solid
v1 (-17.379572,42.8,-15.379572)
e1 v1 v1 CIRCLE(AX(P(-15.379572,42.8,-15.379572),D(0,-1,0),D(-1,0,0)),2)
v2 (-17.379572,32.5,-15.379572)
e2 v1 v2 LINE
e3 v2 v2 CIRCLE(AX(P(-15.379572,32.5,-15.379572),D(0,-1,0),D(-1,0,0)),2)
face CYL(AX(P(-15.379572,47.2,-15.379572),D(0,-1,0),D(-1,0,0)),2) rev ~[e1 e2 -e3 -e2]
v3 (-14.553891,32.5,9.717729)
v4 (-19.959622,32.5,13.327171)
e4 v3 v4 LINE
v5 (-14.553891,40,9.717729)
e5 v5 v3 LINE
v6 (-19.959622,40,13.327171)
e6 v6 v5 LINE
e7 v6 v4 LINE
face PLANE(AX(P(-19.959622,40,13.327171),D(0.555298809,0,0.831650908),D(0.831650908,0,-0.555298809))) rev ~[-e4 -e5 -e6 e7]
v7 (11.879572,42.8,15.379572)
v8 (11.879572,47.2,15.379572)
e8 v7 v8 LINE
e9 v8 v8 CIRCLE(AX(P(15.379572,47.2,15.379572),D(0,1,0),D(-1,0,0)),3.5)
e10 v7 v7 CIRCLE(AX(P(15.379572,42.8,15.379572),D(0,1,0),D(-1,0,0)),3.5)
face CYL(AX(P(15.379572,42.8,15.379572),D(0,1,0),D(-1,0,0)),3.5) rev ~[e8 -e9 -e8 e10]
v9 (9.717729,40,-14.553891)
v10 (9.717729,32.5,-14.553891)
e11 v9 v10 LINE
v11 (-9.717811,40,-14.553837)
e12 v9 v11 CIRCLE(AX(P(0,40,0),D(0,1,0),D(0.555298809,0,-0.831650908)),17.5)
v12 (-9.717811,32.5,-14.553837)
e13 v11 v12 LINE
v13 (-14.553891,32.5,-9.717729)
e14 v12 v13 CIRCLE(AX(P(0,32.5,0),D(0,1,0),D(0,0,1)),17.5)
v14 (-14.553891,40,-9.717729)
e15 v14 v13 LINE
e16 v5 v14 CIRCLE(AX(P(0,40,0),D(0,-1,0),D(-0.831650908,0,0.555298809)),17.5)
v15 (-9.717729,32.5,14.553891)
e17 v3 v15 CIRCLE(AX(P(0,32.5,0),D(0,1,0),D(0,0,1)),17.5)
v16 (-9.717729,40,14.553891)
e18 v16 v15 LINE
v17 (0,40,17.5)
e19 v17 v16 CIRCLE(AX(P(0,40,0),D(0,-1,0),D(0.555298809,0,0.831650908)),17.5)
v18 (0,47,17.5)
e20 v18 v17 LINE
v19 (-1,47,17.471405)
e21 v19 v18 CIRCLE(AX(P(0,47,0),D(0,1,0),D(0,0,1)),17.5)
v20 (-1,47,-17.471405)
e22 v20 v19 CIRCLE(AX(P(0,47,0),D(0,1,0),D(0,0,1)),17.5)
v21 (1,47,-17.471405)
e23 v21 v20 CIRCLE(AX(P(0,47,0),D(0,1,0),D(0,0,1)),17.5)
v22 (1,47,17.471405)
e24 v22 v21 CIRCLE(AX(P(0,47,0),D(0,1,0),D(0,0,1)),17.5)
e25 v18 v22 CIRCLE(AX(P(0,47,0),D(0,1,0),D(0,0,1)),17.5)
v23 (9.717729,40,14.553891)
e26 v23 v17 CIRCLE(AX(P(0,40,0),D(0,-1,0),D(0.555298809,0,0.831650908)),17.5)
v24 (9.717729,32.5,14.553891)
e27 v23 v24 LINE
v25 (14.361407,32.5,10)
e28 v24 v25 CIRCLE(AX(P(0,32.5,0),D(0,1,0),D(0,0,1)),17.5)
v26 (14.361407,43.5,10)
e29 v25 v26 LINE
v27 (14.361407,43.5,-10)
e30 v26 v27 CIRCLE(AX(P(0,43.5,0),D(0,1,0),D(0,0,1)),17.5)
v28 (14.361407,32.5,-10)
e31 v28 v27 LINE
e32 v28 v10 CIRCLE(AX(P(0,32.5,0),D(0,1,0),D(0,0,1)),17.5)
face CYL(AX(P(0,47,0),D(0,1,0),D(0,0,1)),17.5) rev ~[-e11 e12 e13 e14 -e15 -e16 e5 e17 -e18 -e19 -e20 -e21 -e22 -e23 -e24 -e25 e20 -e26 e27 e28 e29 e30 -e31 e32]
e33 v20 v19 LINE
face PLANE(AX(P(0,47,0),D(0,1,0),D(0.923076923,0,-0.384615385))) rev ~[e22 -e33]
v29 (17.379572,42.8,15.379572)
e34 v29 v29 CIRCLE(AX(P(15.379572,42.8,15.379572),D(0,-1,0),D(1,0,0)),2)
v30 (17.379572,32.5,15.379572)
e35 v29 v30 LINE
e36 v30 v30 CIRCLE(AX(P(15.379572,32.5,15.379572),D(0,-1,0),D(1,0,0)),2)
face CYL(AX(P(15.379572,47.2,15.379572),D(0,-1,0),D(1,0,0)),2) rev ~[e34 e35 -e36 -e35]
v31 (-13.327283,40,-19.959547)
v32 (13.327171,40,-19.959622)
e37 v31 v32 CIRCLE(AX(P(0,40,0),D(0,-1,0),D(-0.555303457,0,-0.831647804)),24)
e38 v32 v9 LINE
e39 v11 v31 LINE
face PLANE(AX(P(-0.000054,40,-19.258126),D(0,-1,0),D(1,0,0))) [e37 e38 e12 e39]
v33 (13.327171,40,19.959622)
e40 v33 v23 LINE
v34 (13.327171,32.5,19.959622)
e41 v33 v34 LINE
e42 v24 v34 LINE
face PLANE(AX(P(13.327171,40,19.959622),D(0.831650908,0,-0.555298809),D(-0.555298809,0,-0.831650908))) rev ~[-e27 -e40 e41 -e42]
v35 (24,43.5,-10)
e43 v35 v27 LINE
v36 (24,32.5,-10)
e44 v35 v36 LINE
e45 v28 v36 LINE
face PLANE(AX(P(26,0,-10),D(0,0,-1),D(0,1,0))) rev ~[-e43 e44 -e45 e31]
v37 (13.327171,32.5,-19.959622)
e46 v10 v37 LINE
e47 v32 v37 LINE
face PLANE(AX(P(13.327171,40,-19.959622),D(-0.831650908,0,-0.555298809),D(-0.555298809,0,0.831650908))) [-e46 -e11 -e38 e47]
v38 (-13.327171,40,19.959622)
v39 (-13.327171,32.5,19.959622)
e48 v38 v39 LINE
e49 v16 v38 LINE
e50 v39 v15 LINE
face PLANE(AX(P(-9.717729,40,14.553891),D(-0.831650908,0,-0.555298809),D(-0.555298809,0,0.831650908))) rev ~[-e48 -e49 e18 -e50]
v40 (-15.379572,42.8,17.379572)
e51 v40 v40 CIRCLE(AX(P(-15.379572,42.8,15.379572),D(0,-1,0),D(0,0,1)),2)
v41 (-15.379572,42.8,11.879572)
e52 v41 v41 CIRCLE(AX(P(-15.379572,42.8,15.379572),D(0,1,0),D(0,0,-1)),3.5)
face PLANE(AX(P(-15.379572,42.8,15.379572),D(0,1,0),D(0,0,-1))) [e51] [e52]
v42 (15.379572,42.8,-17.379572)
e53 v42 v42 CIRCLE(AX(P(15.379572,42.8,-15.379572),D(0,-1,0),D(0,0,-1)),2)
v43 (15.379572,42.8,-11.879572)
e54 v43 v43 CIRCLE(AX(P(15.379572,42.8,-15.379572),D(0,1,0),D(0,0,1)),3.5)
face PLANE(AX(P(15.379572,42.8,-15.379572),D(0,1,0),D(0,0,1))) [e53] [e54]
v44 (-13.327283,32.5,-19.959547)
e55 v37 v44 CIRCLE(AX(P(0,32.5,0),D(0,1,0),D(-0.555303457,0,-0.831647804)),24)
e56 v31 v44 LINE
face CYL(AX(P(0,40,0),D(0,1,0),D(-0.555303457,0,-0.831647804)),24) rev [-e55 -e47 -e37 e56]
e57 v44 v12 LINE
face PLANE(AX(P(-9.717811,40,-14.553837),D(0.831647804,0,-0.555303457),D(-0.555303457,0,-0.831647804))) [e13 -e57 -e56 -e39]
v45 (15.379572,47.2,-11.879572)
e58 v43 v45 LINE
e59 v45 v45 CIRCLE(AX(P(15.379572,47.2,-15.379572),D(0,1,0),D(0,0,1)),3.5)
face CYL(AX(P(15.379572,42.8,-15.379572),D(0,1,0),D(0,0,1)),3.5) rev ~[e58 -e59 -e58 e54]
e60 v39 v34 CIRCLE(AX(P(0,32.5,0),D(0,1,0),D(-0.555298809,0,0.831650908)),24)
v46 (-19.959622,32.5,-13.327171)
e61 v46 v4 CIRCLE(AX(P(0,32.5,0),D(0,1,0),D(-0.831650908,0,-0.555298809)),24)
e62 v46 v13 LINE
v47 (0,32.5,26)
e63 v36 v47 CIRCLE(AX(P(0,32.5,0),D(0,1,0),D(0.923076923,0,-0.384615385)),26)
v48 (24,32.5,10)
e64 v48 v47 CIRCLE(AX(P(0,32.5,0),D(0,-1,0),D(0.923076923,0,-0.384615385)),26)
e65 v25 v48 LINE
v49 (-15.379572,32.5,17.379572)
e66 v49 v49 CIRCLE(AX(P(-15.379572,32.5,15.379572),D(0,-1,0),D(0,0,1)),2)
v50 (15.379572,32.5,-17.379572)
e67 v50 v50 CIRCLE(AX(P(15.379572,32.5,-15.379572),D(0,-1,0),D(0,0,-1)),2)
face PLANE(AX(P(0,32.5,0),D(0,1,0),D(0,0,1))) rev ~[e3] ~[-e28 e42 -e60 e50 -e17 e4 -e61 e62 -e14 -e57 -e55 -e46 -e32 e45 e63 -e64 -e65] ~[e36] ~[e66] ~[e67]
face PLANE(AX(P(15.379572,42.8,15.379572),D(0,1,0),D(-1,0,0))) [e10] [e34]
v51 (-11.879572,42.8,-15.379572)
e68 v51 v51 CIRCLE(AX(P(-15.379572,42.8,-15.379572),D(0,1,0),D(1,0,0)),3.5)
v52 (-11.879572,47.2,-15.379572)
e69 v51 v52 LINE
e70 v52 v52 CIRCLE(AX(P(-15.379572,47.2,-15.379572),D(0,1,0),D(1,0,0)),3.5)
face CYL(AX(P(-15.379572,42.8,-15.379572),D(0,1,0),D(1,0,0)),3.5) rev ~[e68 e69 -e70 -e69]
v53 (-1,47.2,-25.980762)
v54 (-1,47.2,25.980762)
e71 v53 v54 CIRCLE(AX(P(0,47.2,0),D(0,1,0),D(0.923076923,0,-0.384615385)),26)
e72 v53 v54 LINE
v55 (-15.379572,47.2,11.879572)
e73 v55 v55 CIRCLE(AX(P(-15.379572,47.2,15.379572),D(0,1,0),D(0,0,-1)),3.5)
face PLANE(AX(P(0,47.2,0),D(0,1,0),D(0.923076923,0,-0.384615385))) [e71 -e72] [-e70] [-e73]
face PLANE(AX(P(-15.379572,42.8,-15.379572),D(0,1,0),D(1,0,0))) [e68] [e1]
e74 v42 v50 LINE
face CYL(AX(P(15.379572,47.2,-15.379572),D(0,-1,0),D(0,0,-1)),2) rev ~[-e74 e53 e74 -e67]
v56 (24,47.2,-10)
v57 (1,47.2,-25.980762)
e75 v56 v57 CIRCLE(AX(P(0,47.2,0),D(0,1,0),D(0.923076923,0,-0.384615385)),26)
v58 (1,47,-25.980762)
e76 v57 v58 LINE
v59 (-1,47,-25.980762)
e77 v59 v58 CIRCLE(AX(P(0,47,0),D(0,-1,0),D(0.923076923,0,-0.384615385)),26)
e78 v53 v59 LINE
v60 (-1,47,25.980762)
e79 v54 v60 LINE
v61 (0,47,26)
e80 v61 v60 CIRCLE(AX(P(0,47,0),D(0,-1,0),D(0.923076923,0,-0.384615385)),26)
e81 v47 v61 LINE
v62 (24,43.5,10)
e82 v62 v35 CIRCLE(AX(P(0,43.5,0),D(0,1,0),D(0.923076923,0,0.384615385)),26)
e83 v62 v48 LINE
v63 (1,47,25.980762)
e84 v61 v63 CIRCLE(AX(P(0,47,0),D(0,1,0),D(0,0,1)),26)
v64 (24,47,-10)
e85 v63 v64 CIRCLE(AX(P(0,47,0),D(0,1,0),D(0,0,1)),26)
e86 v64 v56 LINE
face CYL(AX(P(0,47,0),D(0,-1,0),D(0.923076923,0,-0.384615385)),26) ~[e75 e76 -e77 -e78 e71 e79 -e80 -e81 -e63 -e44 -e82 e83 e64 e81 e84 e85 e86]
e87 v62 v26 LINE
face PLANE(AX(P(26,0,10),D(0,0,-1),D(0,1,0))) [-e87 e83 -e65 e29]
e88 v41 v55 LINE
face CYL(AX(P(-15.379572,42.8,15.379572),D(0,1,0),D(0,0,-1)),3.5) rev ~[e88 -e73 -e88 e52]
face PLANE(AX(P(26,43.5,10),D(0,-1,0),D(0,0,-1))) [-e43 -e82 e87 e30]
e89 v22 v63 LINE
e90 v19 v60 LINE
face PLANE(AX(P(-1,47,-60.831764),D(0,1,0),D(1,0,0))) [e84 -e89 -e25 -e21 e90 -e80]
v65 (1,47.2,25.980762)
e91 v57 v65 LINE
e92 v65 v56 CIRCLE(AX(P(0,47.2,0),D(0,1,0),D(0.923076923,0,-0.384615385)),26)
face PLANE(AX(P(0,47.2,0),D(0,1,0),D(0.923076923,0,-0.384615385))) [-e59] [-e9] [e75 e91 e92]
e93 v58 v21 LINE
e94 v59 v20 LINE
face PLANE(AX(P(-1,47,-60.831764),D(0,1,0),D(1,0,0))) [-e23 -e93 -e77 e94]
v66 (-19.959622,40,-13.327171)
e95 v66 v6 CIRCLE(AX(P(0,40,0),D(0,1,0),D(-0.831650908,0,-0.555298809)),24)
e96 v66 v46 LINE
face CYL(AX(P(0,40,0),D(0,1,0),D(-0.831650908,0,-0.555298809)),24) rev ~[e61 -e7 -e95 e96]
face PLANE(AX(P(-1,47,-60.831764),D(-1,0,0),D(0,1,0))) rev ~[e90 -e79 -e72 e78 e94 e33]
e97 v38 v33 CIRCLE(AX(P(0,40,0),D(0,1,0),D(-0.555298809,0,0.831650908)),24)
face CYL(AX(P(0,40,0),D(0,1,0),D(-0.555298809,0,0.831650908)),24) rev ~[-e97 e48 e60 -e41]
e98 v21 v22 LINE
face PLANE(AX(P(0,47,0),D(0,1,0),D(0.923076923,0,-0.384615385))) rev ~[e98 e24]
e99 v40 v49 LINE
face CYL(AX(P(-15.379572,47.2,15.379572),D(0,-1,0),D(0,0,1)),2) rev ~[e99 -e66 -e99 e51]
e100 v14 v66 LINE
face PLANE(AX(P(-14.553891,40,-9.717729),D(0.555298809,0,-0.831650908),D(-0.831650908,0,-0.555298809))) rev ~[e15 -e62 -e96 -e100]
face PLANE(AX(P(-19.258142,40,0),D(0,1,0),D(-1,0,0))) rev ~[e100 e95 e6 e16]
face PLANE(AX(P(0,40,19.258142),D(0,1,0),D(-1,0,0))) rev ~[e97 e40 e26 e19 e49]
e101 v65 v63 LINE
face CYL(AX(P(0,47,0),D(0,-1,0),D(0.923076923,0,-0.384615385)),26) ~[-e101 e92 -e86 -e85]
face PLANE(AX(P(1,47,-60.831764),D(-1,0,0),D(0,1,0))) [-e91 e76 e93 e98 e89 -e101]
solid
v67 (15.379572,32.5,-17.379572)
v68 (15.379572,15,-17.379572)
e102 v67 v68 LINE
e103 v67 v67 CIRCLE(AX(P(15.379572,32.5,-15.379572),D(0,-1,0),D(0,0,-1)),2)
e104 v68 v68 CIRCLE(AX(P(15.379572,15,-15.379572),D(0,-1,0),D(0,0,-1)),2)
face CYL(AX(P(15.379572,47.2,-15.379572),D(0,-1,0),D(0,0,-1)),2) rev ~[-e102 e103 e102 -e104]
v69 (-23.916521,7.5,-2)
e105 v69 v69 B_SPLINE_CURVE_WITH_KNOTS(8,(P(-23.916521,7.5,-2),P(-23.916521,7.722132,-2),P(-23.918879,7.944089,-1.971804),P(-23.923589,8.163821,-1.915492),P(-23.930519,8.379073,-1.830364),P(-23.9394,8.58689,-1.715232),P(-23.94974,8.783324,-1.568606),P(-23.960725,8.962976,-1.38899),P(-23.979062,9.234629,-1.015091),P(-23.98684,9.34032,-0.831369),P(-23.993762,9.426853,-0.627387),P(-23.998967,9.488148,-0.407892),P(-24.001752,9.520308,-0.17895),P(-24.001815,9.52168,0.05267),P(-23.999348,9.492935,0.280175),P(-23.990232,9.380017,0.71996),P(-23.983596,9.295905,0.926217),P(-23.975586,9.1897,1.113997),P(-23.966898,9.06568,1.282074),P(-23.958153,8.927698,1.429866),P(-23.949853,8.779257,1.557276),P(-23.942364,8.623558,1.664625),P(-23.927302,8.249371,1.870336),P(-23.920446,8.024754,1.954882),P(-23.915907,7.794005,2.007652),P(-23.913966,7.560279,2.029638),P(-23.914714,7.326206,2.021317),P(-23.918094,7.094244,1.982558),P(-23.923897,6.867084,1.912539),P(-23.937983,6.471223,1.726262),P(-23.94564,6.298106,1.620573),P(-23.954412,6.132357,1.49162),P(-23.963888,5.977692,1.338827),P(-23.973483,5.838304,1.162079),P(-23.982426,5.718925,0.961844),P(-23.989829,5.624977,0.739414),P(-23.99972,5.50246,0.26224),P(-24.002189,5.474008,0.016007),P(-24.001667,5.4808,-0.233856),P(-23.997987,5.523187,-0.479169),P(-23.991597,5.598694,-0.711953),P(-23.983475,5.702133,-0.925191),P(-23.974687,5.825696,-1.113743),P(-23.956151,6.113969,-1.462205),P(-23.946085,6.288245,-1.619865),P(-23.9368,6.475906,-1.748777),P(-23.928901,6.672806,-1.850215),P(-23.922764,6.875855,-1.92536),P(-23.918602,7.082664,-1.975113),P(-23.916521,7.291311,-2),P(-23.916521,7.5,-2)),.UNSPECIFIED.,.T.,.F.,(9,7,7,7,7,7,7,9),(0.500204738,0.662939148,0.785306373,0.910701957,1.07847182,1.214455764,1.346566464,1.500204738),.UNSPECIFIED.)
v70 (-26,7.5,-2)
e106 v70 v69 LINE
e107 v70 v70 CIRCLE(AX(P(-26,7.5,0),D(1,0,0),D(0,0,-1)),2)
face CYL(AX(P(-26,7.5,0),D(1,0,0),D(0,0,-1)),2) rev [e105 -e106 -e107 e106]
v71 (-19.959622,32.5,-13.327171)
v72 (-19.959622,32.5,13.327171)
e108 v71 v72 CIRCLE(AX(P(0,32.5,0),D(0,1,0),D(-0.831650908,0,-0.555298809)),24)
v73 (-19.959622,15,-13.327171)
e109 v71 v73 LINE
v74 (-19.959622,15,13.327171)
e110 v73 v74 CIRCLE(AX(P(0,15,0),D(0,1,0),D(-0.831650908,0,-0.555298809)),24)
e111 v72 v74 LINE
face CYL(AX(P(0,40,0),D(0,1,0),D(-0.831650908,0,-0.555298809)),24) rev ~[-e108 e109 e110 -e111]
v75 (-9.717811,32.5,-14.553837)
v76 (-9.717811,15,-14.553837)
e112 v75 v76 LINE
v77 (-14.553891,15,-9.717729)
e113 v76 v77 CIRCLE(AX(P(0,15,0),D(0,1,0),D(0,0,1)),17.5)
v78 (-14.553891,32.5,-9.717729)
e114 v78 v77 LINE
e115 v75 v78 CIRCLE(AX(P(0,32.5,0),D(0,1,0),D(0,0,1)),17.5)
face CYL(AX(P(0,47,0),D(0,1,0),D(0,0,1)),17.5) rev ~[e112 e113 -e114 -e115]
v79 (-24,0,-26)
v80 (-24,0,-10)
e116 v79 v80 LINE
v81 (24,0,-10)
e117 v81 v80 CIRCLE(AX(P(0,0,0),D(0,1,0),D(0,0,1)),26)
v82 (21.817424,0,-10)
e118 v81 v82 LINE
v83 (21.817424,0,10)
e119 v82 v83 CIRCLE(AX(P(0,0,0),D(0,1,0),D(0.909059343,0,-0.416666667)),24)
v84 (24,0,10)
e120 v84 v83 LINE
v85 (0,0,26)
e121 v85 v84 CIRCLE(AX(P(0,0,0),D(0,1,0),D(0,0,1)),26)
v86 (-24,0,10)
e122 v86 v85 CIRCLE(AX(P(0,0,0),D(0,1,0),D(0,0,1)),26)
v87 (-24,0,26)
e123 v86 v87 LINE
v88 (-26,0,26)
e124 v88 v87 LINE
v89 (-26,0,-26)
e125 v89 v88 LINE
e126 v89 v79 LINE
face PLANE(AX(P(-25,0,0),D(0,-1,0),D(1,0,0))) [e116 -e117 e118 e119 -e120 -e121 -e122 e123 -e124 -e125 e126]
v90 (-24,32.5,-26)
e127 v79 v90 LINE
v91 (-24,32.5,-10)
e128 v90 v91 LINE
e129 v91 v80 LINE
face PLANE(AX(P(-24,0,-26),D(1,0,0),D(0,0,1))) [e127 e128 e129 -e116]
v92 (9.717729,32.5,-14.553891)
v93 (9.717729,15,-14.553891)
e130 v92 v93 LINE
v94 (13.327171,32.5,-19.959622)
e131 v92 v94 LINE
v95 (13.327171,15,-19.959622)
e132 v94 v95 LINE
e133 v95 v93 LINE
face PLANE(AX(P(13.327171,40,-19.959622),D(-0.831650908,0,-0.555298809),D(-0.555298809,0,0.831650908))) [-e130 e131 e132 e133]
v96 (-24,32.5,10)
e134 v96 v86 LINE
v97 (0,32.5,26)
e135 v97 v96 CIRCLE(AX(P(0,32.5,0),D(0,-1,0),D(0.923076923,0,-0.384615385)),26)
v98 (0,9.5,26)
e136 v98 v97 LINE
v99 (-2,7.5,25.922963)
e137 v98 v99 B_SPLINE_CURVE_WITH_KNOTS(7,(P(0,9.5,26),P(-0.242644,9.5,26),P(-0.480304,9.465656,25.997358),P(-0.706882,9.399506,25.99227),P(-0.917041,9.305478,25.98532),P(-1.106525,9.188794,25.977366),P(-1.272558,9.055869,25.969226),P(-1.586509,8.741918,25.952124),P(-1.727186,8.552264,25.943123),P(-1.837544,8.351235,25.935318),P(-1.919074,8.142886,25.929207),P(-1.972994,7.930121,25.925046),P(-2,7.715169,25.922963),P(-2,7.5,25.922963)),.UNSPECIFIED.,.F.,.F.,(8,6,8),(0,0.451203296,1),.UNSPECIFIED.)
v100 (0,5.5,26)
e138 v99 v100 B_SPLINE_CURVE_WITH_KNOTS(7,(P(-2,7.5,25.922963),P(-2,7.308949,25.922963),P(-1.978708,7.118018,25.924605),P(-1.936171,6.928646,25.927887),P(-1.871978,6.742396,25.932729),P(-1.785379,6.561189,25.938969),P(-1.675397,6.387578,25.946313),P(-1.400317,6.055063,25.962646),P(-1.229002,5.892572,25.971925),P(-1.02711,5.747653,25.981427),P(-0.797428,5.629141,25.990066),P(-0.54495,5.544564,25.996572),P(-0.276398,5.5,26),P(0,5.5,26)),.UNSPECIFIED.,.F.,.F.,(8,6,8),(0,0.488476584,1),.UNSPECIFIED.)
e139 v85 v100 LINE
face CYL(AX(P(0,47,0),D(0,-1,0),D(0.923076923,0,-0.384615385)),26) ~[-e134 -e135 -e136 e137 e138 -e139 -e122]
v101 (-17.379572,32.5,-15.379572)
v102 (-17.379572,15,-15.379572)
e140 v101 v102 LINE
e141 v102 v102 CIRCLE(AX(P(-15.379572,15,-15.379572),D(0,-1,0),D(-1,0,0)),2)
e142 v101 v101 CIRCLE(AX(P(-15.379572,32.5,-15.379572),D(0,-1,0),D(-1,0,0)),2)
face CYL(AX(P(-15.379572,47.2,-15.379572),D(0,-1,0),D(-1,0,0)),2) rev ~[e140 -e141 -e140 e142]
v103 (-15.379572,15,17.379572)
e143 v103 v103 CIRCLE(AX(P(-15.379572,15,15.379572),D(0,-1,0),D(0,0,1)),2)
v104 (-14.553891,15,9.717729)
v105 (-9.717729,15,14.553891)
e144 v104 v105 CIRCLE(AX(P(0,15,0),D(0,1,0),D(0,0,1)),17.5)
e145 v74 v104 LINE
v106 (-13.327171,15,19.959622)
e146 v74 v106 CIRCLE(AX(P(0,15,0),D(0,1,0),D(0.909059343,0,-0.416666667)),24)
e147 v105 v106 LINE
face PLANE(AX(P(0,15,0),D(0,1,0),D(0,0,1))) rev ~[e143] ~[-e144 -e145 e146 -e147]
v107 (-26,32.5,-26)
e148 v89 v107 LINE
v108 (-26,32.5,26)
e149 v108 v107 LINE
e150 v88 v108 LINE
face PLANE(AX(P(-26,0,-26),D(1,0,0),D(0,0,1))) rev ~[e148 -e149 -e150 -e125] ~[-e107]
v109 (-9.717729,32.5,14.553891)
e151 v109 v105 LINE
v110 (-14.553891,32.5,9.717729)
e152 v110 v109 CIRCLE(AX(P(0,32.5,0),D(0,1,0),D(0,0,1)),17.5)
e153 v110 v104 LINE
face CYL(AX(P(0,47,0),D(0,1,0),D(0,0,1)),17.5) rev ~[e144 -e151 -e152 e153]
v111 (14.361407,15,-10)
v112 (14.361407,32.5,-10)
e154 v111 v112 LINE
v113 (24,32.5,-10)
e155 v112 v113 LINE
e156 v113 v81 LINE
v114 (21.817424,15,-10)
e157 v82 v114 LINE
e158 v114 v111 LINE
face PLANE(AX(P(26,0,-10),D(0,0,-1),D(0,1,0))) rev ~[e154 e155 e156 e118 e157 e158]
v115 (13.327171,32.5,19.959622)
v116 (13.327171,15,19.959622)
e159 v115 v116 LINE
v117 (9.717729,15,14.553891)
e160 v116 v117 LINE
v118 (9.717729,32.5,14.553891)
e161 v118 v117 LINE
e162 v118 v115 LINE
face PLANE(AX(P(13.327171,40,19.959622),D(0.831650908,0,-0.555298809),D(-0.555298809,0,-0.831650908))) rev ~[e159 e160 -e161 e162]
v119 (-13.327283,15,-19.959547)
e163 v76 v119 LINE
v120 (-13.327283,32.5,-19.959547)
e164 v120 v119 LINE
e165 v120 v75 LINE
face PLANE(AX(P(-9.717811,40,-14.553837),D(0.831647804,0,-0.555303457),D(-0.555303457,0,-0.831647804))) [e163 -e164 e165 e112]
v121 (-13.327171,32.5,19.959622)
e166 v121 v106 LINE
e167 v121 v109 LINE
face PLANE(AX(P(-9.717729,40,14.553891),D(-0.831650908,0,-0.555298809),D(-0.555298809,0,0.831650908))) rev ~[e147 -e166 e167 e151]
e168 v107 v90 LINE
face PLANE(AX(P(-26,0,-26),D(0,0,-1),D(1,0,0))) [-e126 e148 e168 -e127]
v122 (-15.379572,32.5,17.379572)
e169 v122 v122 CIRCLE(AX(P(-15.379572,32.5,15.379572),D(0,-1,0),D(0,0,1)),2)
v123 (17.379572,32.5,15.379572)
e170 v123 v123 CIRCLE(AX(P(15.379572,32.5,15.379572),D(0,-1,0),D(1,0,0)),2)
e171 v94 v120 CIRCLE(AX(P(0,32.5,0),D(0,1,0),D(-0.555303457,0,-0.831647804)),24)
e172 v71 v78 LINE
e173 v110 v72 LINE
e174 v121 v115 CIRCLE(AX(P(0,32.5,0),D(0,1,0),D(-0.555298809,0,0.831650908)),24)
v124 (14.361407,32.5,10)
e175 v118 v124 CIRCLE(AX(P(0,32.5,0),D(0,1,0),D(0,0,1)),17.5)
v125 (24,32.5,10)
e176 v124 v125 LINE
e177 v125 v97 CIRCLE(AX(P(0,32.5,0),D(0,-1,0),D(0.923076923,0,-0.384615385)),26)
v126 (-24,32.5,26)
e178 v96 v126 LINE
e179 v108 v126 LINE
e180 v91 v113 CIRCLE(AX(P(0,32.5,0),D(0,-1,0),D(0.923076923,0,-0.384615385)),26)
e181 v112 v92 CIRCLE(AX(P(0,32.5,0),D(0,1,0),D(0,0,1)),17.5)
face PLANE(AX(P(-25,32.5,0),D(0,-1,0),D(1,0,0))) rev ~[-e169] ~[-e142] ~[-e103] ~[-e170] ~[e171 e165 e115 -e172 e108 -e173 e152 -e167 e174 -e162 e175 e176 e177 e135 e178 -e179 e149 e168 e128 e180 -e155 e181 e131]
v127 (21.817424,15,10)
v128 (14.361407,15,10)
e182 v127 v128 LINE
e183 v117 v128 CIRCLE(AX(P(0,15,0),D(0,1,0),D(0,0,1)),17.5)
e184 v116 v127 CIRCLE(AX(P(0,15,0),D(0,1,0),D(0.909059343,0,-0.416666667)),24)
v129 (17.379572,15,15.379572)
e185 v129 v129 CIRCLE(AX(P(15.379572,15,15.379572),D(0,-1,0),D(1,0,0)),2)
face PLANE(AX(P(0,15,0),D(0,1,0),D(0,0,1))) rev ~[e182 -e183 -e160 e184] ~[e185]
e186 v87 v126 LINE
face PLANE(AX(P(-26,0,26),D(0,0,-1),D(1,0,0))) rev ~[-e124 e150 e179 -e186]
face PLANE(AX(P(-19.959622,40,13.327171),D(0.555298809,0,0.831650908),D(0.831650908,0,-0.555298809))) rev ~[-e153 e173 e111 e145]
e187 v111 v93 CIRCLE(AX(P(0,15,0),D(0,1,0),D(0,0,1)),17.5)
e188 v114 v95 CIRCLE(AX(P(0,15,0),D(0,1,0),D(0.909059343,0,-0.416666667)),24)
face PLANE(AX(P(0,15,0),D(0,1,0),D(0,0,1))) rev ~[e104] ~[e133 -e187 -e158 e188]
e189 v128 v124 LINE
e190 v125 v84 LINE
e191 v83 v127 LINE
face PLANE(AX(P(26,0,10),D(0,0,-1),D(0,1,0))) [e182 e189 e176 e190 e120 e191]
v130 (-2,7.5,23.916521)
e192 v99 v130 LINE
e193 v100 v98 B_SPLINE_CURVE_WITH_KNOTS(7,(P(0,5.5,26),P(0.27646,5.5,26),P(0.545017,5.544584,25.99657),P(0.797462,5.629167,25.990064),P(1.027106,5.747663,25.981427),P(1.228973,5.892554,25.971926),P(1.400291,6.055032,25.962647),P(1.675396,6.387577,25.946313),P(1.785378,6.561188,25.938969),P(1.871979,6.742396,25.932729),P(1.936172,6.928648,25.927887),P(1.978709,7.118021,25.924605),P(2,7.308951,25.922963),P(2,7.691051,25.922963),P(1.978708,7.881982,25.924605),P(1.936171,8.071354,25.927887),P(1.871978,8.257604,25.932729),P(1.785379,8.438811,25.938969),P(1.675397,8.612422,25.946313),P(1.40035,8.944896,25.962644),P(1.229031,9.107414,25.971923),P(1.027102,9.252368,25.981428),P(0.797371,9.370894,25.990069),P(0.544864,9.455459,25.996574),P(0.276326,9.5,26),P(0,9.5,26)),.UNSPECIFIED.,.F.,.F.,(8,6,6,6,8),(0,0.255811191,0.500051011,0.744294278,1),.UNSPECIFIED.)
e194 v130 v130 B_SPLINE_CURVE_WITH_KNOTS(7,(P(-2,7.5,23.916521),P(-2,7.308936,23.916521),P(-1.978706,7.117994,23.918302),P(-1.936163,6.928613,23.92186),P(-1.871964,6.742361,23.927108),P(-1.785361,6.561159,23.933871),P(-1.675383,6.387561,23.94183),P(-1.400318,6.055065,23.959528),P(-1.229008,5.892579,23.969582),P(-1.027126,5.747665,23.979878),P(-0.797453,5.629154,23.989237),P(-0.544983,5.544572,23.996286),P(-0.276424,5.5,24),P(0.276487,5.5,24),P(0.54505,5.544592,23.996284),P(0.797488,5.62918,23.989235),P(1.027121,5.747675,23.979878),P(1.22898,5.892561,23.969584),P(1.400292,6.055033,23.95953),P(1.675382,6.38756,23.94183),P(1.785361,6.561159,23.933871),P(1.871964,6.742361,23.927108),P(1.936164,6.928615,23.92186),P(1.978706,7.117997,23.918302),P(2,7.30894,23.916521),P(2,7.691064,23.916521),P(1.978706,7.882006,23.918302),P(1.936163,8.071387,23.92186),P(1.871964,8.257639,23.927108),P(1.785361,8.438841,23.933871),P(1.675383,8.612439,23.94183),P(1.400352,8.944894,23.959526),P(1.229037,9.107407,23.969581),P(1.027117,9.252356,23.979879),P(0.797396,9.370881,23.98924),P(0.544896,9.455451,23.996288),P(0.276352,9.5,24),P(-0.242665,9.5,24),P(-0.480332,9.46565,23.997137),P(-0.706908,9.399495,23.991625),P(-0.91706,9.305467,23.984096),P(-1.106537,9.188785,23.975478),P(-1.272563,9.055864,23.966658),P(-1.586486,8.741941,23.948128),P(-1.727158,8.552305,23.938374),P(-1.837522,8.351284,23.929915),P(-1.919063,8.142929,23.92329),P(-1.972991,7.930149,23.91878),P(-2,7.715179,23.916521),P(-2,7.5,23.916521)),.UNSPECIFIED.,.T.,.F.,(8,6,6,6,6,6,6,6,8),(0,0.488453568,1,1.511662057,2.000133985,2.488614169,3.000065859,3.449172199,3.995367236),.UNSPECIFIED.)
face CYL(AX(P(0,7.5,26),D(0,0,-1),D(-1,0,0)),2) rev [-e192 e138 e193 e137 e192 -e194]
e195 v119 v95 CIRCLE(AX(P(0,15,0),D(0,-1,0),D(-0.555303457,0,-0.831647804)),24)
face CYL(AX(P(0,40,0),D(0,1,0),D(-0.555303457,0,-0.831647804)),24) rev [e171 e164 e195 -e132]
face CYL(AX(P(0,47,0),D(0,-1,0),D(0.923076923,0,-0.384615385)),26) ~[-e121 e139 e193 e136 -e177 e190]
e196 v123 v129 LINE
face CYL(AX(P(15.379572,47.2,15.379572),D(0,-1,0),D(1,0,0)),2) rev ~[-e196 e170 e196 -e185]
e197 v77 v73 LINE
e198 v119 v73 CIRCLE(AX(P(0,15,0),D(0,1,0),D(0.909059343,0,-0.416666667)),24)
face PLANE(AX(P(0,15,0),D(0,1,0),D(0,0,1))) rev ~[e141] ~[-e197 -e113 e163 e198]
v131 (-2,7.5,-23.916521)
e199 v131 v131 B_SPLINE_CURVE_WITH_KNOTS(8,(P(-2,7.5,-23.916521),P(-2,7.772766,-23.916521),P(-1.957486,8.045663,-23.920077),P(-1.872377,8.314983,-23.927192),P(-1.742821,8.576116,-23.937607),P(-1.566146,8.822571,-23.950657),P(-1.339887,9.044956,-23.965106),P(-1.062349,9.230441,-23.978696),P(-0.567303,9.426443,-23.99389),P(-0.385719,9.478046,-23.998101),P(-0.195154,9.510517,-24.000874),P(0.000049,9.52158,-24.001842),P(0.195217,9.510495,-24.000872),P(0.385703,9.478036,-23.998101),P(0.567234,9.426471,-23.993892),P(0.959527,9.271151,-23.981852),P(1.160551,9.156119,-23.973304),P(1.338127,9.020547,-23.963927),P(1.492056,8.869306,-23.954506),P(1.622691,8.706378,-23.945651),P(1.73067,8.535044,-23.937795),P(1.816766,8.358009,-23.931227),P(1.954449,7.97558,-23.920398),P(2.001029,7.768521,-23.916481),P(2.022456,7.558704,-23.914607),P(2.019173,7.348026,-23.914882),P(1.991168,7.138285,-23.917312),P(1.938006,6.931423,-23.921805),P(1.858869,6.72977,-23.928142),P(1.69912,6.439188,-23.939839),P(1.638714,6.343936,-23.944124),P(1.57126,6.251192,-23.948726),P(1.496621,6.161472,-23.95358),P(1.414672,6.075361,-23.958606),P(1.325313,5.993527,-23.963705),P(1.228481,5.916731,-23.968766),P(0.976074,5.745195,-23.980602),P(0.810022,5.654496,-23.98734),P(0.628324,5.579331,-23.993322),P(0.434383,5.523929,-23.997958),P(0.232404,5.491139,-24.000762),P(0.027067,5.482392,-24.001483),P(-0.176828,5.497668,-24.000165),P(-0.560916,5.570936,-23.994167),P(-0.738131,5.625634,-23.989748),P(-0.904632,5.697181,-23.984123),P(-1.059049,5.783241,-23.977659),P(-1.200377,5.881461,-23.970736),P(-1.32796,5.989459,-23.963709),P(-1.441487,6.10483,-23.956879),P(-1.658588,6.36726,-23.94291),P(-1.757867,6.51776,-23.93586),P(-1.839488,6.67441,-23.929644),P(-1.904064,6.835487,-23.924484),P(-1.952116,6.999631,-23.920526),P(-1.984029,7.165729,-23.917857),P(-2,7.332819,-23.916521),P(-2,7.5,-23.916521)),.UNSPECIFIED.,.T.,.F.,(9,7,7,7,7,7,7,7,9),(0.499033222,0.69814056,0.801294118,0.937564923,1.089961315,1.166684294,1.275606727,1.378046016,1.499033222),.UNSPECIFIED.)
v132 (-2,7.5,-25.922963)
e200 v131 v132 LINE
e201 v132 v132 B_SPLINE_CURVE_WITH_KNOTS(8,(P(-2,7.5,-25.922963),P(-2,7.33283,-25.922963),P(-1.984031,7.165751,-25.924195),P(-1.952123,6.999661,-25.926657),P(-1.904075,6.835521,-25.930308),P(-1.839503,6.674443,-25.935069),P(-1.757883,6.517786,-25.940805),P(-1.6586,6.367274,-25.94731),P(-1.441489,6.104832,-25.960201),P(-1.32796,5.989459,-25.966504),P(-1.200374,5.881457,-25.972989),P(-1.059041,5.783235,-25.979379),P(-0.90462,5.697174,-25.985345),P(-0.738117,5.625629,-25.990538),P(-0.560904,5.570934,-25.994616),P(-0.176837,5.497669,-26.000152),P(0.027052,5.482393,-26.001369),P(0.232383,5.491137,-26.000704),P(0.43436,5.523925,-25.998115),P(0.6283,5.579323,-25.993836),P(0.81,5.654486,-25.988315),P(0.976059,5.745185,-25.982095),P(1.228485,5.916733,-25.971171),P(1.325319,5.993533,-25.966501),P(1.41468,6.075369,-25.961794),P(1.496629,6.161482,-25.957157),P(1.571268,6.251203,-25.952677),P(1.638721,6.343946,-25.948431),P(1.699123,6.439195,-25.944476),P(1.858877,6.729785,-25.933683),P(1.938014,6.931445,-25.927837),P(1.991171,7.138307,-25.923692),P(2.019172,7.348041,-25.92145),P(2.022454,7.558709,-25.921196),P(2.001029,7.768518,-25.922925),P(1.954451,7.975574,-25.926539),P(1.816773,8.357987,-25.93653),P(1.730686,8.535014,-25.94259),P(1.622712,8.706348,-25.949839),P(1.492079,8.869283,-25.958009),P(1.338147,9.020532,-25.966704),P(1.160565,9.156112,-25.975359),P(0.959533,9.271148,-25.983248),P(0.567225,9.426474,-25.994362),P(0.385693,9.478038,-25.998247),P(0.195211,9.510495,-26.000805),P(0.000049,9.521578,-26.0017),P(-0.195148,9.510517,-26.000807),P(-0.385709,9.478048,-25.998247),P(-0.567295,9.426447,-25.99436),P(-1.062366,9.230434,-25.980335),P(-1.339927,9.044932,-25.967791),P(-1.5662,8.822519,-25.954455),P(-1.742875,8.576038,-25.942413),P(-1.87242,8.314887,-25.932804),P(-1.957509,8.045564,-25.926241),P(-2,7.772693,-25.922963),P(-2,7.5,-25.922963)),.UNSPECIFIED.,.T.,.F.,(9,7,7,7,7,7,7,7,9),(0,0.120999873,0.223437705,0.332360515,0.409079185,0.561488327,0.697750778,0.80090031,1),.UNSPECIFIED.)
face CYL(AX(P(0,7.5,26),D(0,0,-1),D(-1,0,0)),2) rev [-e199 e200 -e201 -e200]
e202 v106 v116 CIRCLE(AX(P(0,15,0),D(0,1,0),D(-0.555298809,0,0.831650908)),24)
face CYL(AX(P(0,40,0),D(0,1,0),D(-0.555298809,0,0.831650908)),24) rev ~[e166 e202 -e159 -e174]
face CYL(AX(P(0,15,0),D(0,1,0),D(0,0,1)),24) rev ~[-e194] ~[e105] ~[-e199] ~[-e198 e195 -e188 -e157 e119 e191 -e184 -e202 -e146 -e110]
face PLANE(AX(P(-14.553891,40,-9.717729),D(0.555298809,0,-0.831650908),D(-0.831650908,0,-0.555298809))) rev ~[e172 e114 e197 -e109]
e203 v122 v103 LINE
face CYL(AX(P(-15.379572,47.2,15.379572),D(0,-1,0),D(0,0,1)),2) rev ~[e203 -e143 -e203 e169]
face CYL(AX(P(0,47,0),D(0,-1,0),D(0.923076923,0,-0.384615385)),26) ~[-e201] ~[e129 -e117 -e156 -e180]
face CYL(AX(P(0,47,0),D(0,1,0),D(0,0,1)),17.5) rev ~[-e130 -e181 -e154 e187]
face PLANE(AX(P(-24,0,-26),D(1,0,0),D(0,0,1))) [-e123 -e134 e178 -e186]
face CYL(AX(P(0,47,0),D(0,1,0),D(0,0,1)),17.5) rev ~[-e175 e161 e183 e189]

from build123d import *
from build123d.topology import SkipClean

# Parameters (mm, degrees)
SKETCH1_R                                           = 26
BOSS_EXTRUDE1_DEPTH                                 = 47
SKETCH2_R                                           = 17.5
CUT_EXTRUDE1_DEPTH                                  = 32
SKETCH3_R                                           = 24
CUT_EXTRUDE2_DEPTH                                  = 49.744230428
SKETCH11_W                                          = 20
SKETCH11_H                                          = 43.5
CUT_EXTRUDE3_DEPTH                                  = 15
SKETCH12_R                                          = 26
BOSS_EXTRUDE2_DEPTH                                 = 0.2
SKETCH26_W                                          = 2
SKETCH26_H                                          = 52
BOSS_EXTRUDE4_DEPTH                                 = 32.5
CIRPATTERN1_COUNT                                   = 4
CUT_EXTRUDE5_DEPTH                                  = 60.831764313
CUT_EXTRUDE5_DEPTH_BACK                             = 60.831764313
SKETCH35_W                                          = 2
SKETCH35_H                                          = 0.2
CBORE_FOR_M4_HEX_SOCKET_HEAD_CAP_SCREW2_D           = 4
CBORE_FOR_M4_HEX_SOCKET_HEAD_CAP_SCREW2_CBORE_D     = 7
CBORE_FOR_M4_HEX_SOCKET_HEAD_CAP_SCREW2_CBORE_DEPTH = 4.4
CIRPATTERN2_COUNT                                   = 4
CUT_EXTRUDE6_START                                  = -25
CUT_EXTRUDE6_DEPTH                                  = 25


with BuildPart() as part:
    # Sketch1 → Boss-Extrude1 (new body)
    with BuildSketch(Plane(origin=(0, 0, 0), x_dir=(1, 0, 0), z_dir=(0, 1, 0))):
        with Locations(Location((0, 0, 0), (0, 0, 270))):
            Circle(SKETCH1_R)
    extrude(amount=BOSS_EXTRUDE1_DEPTH)

    # Sketch2 → Cut-Extrude1 (cut)
    with BuildSketch(Plane(origin=(0, 47, 0), x_dir=(1, 0, 0), z_dir=(0, 1, 0))):
        with Locations(Location((0, 0, 0), (0, 0, 270))):
            Circle(SKETCH2_R)
    extrude(amount=-CUT_EXTRUDE1_DEPTH, mode=Mode.SUBTRACT)

    # Sketch3 → Cut-Extrude2 (cut, through all)
    with BuildSketch(Plane(origin=(0, 15, 0), x_dir=(1, 0, 0), z_dir=(0, 1, 0))):
        with Locations(Location((0, 0, 0), (0, 0, 270))):
            Circle(SKETCH3_R)
    extrude(amount=-CUT_EXTRUDE2_DEPTH, mode=Mode.SUBTRACT)

    # Sketch11 → Cut-Extrude3 (cut)
    with BuildSketch(Plane(origin=(26, 0, 0), x_dir=(0, 0, -1), z_dir=(1, 0, 0))):
        with Locations((0, 21.75)):
            Rectangle(SKETCH11_W, SKETCH11_H)
    extrude(amount=-CUT_EXTRUDE3_DEPTH, mode=Mode.SUBTRACT)

    # Sketch12 → Boss-Extrude2 (add)
    with BuildSketch(Plane(origin=(0, 47, 0), x_dir=(1, 0, 0), z_dir=(0, 1, 0))):
        with Locations(Location((0, 0, 0), (0, 0, 22.619864948))):
            Circle(SKETCH12_R)
    extrude(amount=BOSS_EXTRUDE2_DEPTH)

    # Sketch26 → Boss-Extrude4 (add)
    with BuildSketch(Plane.XZ):
        with Locations((-25, 0)):
            Rectangle(SKETCH26_W, SKETCH26_H)
    extrude(amount=-BOSS_EXTRUDE4_DEPTH)

    # Sketch5 → Ø4.0mm Dowel Hole1 (revolve, cut)
    with BuildSketch(Plane(origin=(26, 7.5, 0), x_dir=(0, 0, -1), z_dir=(0, 1, 0))):
        Polygon((0, 0), (0, 53.201721238), (2, 52), (2, 0), align=None)
    f_4_0mm_dowel_hole1 = revolve(axis=Axis((32.35, 7.5, 0), (-1, 0, 0)), mode=Mode.SUBTRACT)

    # CirPattern1: Ø4.0mm Dowel Hole1 ×4 about axis
    cirpattern1_axis = Axis((0, 0, 0), (0, 1, 0))
    for i in range(1, CIRPATTERN1_COUNT):
        add(f_4_0mm_dowel_hole1.rotate(cirpattern1_axis, i * 360 / CIRPATTERN1_COUNT), mode=Mode.SUBTRACT)

    # Sketch35 → Cut-Extrude5 (cut, two sides: drawn at the far end of the back side and taken through both)
    with BuildSketch(Plane.XY.offset(-CUT_EXTRUDE5_DEPTH_BACK)):
        with Locations((0, 47.1)):
            Rectangle(SKETCH35_W, SKETCH35_H)
    extrude(amount=CUT_EXTRUDE5_DEPTH + CUT_EXTRUDE5_DEPTH_BACK, mode=Mode.SUBTRACT)

    # CBORE for M4 Hex Socket Head Cap Screw2 (through all)
    with Locations(Plane(origin=(0, 47.2, 0), x_dir=(1, 0, 0), z_dir=(0, 1, 0))):
        with Locations((-15.379572491, 15.379572491)):
            cbore_for_m4_hex_socket_head_cap_screw2 = CounterBoreHole(CBORE_FOR_M4_HEX_SOCKET_HEAD_CAP_SCREW2_D / 2, CBORE_FOR_M4_HEX_SOCKET_HEAD_CAP_SCREW2_CBORE_D / 2, CBORE_FOR_M4_HEX_SOCKET_HEAD_CAP_SCREW2_CBORE_DEPTH)

    # CirPattern2: CBORE for M4 Hex Socket Head Cap Screw2 ×4 about axis
    cirpattern2_axis = Axis((0, 0, 0), (0, 1, 0))
    for i in range(1, CIRPATTERN2_COUNT):
        add(cbore_for_m4_hex_socket_head_cap_screw2.rotate(cirpattern2_axis, i * 360 / CIRPATTERN2_COUNT), mode=Mode.SUBTRACT)

    # Sketch41 → Cut-Extrude6 (cut)
    with SkipClean():  # the faces are left unmerged after this step: merging them gives an invalid solid
        with BuildSketch(Plane.XZ.offset(-15).offset(CUT_EXTRUDE6_START)):
            with BuildLine():
                Line((-9.717729156, 14.553890891), (-13.327171414, 19.959621793))
                ThreePointArc((-13.327171414, 19.959621793), (1e-09, 24), (13.327171415, 19.959621792))
                Line((13.327171415, 19.959621792), (9.717729157, 14.55389089))
                ThreePointArc((9.717729157, 14.55389089), (1e-09, 17.5), (-9.717729156, 14.553890891))
            make_face()
            with BuildLine():
                Line((-9.717810502, -14.553836575), (-13.327282975, -19.959547302))
                ThreePointArc((-13.327282975, -19.959547302), (-6.7072e-05, -24), (13.327171414, -19.959621793))
                Line((13.327171414, -19.959621793), (9.717729156, -14.553890891))
                ThreePointArc((9.717729156, -14.553890891), (-4.8907e-05, -17.5), (-9.717810502, -14.553836575))
            make_face()
            with BuildLine():
                Line((-14.55389089, -9.717729157), (-19.959621792, -13.327171415))
                ThreePointArc((-19.959621792, -13.327171415), (-24, -1e-09), (-19.959621793, 13.327171414))
                Line((-19.959621793, 13.327171414), (-14.553890891, 9.717729156))
                ThreePointArc((-14.553890891, 9.717729156), (-17.5, -1e-09), (-14.55389089, -9.717729157))
            make_face()
        extrude(amount=CUT_EXTRUDE6_DEPTH, mode=Mode.SUBTRACT)


with BuildPart() as body_2:
    # Split2: the piece on the far side of the plane
    add(part.part)
    split(bisect_by=Plane.ZX.offset(32.5), keep=Keep.BOTTOM)


with BuildPart() as part_1:
    add(part.part)

    # Split2
    split(bisect_by=Plane.ZX.offset(32.5), keep=Keep.TOP)


solid = Compound([body_2.part, part_1.part])
